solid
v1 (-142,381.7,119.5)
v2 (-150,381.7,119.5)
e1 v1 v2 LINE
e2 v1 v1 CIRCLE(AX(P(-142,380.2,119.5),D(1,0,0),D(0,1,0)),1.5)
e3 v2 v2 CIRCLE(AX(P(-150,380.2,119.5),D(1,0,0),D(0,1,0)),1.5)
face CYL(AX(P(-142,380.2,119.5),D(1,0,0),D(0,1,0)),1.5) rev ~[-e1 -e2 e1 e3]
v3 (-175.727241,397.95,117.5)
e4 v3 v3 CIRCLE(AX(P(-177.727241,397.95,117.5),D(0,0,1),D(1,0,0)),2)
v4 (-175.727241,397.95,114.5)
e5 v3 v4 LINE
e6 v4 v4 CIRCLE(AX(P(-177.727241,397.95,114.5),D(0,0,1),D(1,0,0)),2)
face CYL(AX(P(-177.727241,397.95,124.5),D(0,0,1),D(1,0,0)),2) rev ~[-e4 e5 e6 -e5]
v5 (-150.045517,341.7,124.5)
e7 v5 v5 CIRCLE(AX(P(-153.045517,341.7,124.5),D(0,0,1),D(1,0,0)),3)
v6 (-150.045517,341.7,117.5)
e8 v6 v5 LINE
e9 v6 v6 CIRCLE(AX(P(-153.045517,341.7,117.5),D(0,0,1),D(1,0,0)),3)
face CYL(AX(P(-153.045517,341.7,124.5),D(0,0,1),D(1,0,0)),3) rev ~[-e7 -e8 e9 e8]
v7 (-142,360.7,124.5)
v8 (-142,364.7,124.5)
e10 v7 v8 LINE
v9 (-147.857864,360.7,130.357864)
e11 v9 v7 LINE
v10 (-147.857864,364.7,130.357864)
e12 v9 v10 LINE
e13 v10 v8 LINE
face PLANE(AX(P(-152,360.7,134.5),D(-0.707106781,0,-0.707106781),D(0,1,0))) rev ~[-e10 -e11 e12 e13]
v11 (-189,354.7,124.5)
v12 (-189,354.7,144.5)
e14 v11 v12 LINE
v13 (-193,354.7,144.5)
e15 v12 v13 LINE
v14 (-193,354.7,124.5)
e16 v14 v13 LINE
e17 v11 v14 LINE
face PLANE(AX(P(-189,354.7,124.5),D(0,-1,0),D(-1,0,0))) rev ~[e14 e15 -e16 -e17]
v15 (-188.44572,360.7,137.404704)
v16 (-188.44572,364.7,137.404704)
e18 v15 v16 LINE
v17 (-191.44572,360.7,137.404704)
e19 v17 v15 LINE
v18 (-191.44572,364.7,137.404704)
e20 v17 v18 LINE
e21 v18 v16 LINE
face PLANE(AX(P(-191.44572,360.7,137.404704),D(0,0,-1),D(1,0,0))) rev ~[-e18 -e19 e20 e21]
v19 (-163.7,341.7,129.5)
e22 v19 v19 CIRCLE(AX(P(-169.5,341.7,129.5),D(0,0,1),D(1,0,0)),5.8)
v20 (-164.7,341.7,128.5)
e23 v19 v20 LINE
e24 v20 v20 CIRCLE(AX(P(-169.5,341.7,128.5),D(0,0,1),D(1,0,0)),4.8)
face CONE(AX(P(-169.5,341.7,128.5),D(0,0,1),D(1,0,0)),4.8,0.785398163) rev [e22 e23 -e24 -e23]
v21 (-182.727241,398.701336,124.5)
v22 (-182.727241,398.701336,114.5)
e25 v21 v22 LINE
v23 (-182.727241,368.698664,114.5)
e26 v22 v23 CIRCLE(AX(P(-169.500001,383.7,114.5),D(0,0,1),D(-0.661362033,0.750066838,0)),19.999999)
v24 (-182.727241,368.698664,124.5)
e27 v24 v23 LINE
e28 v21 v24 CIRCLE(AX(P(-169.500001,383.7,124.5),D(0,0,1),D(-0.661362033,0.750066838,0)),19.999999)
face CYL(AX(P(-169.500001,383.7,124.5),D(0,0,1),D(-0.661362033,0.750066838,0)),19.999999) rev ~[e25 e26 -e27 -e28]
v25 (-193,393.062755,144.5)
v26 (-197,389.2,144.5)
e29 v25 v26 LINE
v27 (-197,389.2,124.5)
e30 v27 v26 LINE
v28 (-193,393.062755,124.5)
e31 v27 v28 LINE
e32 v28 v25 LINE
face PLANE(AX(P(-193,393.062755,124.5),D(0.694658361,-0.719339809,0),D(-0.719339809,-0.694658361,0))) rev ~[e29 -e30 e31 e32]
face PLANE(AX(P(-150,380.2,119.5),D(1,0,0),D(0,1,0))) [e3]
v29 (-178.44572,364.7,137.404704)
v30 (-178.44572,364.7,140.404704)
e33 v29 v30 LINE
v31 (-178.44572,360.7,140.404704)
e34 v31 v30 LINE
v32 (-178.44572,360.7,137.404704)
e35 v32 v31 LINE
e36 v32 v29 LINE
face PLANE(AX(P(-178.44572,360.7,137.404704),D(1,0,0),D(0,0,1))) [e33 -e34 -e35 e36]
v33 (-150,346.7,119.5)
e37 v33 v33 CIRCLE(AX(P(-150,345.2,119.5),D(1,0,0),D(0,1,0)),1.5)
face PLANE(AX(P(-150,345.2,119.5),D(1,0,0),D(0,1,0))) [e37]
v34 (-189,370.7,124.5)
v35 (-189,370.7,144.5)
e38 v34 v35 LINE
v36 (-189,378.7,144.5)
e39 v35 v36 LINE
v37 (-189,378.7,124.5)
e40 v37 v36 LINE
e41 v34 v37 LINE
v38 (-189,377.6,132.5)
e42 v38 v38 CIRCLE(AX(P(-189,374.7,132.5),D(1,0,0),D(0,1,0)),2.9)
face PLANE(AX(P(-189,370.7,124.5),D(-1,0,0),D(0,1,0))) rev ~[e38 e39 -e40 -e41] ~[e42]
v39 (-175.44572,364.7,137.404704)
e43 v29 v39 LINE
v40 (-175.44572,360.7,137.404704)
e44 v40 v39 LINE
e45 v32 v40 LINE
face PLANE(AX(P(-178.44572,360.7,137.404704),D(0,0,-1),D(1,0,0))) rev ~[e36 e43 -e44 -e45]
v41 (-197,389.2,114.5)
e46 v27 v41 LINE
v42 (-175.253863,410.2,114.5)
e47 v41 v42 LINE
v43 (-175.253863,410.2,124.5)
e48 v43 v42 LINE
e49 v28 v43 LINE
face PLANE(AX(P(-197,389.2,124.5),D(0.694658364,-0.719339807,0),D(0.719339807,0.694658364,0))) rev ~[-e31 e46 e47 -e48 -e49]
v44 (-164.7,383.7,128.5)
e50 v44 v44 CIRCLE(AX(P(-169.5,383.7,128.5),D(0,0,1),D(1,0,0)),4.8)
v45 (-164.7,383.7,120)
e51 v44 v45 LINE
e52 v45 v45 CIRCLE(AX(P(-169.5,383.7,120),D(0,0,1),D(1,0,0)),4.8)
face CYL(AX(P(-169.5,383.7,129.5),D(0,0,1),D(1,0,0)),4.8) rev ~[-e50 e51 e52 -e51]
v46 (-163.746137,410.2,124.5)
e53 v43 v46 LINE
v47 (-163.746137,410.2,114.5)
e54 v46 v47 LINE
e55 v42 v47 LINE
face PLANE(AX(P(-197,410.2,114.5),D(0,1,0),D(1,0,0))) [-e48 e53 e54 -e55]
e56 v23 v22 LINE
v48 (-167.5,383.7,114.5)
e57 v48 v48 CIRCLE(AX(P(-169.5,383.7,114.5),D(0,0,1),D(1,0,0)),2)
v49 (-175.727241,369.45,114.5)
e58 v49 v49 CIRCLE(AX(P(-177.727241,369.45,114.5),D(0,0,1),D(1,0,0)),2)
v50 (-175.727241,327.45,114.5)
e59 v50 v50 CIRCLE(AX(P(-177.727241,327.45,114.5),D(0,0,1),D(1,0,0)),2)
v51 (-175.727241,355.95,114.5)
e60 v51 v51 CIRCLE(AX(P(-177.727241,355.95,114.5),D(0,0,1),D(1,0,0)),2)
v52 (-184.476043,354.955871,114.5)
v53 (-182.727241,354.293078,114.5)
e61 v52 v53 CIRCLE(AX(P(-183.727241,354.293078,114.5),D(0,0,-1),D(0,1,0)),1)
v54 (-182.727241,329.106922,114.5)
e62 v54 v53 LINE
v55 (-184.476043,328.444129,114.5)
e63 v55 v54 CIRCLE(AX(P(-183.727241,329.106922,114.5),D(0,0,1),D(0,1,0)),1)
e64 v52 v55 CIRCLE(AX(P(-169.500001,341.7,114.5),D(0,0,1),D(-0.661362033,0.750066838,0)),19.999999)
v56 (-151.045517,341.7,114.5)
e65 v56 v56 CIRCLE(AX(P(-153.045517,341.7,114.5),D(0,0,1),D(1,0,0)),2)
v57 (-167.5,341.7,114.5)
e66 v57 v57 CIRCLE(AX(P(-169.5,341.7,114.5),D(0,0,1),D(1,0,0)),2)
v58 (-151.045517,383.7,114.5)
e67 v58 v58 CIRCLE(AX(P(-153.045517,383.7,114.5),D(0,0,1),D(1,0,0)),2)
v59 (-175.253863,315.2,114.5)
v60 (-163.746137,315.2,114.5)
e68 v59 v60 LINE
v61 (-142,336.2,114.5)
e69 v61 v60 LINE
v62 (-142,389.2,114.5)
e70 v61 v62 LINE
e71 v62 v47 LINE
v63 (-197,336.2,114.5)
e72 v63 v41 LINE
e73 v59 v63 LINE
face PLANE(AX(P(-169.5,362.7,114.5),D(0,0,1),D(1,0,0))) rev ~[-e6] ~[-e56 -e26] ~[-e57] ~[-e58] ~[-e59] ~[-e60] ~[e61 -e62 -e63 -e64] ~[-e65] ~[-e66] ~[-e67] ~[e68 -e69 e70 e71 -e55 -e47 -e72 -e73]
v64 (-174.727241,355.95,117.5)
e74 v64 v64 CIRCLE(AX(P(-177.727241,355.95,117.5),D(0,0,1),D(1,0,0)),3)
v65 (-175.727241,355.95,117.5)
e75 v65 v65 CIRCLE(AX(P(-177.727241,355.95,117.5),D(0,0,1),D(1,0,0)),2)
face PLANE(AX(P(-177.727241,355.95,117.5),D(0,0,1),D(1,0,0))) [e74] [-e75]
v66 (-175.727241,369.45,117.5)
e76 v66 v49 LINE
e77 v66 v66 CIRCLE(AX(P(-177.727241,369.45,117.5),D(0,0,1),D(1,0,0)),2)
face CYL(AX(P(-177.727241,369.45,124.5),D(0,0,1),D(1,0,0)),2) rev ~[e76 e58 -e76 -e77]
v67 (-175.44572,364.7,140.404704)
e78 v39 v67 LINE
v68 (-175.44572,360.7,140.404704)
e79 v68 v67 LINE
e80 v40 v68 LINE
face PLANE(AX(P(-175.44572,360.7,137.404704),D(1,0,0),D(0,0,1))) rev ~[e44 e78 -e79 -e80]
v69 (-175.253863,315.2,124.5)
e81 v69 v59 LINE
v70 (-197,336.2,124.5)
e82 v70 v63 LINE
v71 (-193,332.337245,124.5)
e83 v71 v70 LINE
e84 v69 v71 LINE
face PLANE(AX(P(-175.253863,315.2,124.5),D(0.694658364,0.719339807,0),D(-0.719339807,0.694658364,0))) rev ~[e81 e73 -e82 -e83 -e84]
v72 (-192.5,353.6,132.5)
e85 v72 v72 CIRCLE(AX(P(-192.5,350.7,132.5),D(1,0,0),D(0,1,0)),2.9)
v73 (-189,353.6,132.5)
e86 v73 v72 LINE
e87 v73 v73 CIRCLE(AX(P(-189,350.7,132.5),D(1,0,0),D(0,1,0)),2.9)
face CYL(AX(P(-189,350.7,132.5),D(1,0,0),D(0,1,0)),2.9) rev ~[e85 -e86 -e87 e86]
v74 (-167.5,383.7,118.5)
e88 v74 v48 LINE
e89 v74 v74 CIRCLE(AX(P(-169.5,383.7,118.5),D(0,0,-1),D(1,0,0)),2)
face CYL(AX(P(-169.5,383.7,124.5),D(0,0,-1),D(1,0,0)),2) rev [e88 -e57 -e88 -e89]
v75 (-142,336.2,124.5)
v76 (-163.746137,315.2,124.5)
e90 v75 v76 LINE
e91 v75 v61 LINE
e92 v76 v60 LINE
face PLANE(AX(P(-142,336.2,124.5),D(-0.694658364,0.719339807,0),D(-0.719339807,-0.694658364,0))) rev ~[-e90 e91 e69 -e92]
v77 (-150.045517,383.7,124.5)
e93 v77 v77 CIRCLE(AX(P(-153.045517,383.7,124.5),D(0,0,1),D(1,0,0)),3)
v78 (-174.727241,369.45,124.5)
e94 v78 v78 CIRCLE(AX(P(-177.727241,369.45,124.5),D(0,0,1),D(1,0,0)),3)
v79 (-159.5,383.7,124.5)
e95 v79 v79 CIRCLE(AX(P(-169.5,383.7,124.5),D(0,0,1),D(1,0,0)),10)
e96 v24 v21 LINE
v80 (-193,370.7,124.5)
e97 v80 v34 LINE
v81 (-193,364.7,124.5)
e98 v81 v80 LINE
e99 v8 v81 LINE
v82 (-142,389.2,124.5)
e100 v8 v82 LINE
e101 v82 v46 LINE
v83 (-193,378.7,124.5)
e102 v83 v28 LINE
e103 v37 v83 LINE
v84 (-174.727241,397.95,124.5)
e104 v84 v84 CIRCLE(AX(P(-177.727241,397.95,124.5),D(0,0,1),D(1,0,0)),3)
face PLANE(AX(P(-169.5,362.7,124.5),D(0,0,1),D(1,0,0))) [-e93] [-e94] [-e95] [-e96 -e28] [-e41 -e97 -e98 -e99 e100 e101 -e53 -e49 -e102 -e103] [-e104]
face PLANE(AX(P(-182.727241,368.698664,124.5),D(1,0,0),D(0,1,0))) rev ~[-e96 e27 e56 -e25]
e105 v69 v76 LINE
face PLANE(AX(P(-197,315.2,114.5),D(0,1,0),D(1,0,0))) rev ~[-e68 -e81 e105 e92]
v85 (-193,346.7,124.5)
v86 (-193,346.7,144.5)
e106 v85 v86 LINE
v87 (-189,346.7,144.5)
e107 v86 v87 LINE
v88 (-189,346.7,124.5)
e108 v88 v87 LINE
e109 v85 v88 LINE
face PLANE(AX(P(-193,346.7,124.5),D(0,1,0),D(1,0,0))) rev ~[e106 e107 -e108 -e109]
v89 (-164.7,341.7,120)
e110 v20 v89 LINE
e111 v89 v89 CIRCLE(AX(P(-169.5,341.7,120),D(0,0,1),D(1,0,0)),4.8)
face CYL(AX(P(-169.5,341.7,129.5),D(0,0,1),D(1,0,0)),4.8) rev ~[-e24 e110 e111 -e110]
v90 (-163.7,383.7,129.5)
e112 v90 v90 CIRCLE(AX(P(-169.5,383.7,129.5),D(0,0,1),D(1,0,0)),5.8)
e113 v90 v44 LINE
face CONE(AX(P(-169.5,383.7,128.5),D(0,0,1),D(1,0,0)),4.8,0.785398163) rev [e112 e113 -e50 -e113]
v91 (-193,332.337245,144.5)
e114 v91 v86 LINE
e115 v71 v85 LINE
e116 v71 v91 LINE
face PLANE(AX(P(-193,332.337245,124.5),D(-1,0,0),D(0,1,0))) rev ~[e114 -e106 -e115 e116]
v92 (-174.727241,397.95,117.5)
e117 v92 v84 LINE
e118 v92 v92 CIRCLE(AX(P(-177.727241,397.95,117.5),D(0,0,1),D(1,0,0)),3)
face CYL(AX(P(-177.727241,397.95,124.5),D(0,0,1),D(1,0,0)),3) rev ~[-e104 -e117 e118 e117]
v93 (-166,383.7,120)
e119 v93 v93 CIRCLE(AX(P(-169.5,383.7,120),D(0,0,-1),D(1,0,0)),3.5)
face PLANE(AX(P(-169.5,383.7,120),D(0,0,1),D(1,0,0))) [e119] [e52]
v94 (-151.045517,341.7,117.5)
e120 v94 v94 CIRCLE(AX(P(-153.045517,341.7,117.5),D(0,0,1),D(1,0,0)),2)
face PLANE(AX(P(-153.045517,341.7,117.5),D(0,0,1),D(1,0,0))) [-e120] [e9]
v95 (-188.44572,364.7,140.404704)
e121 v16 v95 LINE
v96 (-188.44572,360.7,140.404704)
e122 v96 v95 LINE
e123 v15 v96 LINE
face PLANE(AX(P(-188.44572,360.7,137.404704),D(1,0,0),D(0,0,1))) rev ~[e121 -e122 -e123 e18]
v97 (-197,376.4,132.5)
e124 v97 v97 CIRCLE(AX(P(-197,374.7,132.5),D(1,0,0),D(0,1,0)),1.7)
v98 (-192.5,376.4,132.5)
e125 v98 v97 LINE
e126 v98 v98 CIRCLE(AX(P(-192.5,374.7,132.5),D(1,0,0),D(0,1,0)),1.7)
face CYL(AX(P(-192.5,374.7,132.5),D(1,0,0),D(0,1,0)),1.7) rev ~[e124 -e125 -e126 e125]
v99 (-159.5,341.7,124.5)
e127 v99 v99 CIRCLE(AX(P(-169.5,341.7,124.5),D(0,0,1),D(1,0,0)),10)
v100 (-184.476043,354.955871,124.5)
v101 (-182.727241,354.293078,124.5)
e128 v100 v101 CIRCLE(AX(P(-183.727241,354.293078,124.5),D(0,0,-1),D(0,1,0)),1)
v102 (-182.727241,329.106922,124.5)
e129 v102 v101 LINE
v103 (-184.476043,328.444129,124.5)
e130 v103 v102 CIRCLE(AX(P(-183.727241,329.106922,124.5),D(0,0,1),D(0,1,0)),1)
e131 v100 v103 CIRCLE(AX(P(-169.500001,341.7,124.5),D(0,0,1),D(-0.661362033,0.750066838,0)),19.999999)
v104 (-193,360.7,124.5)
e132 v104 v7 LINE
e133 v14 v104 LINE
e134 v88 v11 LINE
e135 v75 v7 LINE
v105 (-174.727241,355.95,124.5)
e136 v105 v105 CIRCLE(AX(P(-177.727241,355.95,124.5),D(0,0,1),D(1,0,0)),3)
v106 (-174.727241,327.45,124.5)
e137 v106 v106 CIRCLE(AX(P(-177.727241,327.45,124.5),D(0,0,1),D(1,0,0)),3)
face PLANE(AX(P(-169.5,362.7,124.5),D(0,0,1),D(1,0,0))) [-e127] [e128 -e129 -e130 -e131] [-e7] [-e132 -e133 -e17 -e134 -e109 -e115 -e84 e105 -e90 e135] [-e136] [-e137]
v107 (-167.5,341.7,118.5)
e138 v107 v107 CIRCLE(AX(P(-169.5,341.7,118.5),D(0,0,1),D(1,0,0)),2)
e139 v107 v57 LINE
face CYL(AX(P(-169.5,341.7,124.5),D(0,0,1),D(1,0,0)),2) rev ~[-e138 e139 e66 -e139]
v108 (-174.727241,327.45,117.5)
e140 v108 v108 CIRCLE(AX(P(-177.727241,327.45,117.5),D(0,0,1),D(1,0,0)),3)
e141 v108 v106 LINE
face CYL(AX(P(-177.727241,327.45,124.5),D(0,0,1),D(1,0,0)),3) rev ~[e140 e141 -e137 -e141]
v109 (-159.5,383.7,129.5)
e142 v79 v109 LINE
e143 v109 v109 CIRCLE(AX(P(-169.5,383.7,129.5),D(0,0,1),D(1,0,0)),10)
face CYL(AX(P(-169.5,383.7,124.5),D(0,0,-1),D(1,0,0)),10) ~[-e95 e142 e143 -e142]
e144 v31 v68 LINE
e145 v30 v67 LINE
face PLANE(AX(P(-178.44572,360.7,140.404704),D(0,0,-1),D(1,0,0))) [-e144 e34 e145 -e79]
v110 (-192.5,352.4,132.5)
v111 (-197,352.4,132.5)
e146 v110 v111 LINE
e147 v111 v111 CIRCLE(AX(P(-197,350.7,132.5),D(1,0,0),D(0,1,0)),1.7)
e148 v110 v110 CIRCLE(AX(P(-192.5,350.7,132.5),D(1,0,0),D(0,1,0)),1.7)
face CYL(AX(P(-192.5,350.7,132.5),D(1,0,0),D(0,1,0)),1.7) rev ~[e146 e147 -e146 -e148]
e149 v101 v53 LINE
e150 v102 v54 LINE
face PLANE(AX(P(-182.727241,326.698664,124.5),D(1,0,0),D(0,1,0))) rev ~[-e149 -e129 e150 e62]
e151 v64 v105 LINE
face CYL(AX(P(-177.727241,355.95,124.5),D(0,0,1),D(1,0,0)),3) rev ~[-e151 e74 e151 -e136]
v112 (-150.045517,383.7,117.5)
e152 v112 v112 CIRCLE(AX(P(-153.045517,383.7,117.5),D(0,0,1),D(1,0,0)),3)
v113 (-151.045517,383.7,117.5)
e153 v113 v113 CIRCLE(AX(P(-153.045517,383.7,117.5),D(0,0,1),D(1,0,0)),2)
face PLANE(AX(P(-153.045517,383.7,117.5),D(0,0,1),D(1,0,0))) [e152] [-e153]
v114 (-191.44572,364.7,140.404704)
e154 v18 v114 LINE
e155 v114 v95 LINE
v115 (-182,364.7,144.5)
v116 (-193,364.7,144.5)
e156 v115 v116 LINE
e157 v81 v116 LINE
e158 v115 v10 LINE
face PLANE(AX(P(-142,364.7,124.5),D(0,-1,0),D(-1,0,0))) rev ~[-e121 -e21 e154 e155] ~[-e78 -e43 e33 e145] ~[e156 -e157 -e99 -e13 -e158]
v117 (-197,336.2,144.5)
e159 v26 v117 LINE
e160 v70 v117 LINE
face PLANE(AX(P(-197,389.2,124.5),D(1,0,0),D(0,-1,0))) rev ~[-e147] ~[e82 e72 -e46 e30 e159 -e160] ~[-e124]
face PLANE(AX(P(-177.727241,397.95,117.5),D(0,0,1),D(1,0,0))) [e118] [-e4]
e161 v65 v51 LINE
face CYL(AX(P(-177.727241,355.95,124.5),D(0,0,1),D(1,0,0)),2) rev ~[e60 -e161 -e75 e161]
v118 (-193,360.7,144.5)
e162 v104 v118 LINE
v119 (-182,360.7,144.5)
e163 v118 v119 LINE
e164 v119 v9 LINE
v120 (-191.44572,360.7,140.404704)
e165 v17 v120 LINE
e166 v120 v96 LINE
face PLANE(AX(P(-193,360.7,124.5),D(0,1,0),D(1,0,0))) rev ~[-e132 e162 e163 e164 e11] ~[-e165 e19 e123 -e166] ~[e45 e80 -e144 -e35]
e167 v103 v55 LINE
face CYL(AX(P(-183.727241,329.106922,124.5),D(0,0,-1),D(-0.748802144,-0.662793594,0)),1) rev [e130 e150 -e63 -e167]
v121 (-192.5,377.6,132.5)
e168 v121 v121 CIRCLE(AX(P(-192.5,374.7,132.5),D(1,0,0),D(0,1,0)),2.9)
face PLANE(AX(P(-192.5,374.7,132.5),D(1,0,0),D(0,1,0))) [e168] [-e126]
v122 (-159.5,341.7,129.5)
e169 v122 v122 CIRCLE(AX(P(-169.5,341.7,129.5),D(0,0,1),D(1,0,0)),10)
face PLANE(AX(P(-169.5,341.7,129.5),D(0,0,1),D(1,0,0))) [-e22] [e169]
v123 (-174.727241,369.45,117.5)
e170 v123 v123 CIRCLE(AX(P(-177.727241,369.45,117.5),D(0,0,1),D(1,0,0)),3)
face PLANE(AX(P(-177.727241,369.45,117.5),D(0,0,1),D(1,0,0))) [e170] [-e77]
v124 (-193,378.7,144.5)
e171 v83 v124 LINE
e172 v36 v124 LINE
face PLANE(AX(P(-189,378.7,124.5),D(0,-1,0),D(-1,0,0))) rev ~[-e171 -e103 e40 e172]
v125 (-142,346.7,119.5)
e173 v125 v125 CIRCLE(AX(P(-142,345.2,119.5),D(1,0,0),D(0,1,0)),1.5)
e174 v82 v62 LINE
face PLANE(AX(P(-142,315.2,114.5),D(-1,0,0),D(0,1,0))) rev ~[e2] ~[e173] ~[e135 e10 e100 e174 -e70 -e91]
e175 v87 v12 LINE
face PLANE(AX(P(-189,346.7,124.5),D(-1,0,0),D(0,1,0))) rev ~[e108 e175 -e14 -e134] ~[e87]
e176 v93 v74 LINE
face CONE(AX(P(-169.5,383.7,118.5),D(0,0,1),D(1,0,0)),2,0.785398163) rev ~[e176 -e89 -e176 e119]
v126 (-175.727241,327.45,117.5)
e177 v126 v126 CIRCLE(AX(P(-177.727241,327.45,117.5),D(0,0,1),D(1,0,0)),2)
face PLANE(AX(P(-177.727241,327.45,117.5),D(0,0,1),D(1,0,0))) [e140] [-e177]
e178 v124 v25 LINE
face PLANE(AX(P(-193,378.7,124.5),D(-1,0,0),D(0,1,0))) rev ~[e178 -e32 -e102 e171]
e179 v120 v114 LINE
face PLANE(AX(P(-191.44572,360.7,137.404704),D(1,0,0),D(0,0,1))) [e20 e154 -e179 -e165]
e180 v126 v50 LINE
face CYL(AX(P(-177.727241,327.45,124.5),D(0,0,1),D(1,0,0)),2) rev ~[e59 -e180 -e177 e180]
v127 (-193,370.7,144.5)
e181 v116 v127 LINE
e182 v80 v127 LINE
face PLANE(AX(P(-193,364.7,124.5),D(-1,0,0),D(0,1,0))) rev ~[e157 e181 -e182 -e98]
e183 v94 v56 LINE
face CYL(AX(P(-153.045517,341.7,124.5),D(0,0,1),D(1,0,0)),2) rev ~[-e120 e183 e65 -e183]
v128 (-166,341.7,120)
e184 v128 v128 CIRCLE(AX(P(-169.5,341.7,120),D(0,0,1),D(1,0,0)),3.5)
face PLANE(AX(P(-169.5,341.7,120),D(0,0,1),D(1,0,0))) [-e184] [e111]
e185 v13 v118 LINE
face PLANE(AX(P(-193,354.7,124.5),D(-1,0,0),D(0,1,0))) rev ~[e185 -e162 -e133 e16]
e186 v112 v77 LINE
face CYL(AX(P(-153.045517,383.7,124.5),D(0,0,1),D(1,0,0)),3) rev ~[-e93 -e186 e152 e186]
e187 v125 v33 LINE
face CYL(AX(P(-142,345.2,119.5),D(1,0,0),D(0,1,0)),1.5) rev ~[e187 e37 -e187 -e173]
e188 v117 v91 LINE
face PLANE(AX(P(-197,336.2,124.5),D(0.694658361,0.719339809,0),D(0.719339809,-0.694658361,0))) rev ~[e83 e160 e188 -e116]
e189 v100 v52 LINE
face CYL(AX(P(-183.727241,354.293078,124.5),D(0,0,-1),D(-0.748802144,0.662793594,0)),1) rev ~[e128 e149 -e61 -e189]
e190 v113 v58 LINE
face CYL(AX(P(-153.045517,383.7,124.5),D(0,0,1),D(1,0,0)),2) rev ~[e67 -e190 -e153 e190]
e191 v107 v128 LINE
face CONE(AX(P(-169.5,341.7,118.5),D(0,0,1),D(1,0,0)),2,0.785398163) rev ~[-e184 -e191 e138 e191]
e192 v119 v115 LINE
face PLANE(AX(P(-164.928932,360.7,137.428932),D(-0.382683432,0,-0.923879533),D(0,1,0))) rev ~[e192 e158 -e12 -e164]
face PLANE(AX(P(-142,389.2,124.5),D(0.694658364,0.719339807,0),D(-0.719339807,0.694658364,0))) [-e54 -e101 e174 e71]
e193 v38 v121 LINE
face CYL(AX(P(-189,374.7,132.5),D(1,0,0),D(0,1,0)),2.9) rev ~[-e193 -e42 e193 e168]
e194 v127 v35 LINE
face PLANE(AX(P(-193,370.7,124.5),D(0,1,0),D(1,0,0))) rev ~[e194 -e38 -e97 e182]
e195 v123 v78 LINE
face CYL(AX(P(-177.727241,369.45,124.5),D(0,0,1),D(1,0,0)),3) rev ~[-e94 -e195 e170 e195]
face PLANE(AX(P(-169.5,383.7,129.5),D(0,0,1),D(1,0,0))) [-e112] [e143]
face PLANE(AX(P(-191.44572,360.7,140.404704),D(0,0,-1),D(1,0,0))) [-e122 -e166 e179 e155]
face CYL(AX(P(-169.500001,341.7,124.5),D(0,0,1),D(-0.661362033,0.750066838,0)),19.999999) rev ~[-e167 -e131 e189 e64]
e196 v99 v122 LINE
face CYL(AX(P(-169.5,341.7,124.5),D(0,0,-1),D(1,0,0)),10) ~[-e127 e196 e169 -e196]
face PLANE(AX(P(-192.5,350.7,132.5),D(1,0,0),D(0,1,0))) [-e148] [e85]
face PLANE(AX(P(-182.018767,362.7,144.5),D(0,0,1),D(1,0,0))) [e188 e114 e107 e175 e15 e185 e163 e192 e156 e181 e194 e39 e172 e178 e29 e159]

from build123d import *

# Parameters (mm, degrees)
BOX_W           = 55
BOX_H           = 95
BOX_DEPTH       = 10
SKETCH_R        = 2
POCKET_DEPTH    = 10
SKETCH001_R     = 2
POCKET001_DEPTH = 10
FILLET_R        = 1
PAD_DEPTH       = 20
CHAMFER_SIZE    = 20
CHAMFER001_SIZE = 20
SKETCH003_R     = 3
POCKET005_DEPTH = 6
SKETCH004_R     = 10
SKETCH004_R_2   = 2
PAD001_DEPTH    = 5
SKETCH005_W     = 3
SKETCH005_H     = 3
POCKET006_DEPTH = 5
SKETCH006_R     = 2.9
POCKET007_DEPTH = 3.5
SKETCH007_R     = 1.7
POCKET008_DEPTH = 5
SKETCH009_R     = 4.8
POCKET009_DEPTH = 9.5
CHAMFER002_SIZE = 1
CHAMFER003_SIZE = 1.5
SKETCH010_R     = 1.5
POCKET010_DEPTH = 8
SKETCH011_R     = 3
POCKET011_DEPTH = 1


with BuildPart() as part:
    # Box → Box (new body)
    with BuildSketch(Plane(origin=(-197, 315.2, 114.5), x_dir=(1, 0, 0), z_dir=(0, 0, 1))):
        with Locations((27.5, 47.5)):
            Rectangle(BOX_W, BOX_H)
    extrude(amount=BOX_DEPTH)

    # Sketch → Pocket (cut)
    with BuildSketch(Plane(origin=(-197, 315.2, 124.5), x_dir=(1, 0, 0), z_dir=(0, 0, 1))):
        with Locations((27.5, 26.5)):
            Circle(SKETCH_R)
        with Locations((27.5, 68.5)):
            Circle(SKETCH_R)
        Polygon((0, 74), (21.746137, 95), (0, 95), align=None)
        Polygon((33.253863, 95), (55, 95), (55, 74), align=None)
        Polygon((55, 21), (33.253863, 0), (55, 0), align=None)
        Polygon((0, 21), (0, 0), (21.746137, 0), align=None)
    extrude(amount=-POCKET_DEPTH, mode=Mode.SUBTRACT)

    # Sketch001 → Pocket001 (cut)
    with BuildSketch(Plane(origin=(-197, 315.2, 124.5), x_dir=(1, 0, 0), z_dir=(0, 0, 1))):
        with Locations((19.272759, 12.25)):
            Circle(SKETCH001_R)
        with Locations((19.272759, 40.75)):
            Circle(SKETCH001_R)
        with Locations((43.954483, 26.5)):
            Circle(SKETCH001_R)
        with Locations((19.272759, 54.25)):
            Circle(SKETCH001_R)
        with Locations((19.272759, 82.75)):
            Circle(SKETCH001_R)
        with Locations((43.954483, 68.5)):
            Circle(SKETCH001_R)
        with BuildLine():
            ThreePointArc((14.272759, 41.501336), (7.5, 26.5), (14.272759, 11.498664))
            Line((14.272759, 11.498664), (14.272759, 41.501336))
        make_face()
        with BuildLine():
            ThreePointArc((14.272759, 83.501336), (7.5, 68.5), (14.272759, 53.498664))
            Line((14.272759, 53.498664), (14.272759, 83.501336))
        make_face()
    extrude(amount=-POCKET001_DEPTH, mode=Mode.SUBTRACT)

    # Fillet
    fillet_edges = [part.edges().sort_by_distance(p)[0] for p in [
        (-182.727241, 326.698664, 119.5),
        (-175.727241, 355.95, 119.5),
        (-175.727241, 397.95, 119.5),
        (-182.727241, 356.701336, 119.5),
    ]]
    fillet(fillet_edges, radius=FILLET_R)

    # Sketch002 → Pad (new body)
    with BuildSketch(Plane(origin=(-197, 315.2, 124.5), x_dir=(1, 0, 0), z_dir=(0, 0, 1))):
        Polygon((4, 17.137245), (4, 31.5), (8, 31.5), (8, 39.5), (4, 39.5), (4, 45.5), (55, 45.5), (55, 49.5), (4, 49.5), (4, 55.5), (8, 55.5), (8, 63.5), (4, 63.5), (4, 77.862755), (0, 74), (0, 21), align=None)
    extrude(amount=PAD_DEPTH)

    # Chamfer
    chamfer_edges = [part.edges().sort_by_distance(p)[0] for p in [
        (-142, 362.7, 144.5),
    ]]
    chamfer(chamfer_edges, length=CHAMFER_SIZE)

    # Chamfer001
    chamfer001_edges = [part.edges().sort_by_distance(p)[0] for p in [
        (-162, 362.7, 144.5),
    ]]
    chamfer(chamfer001_edges, length=CHAMFER001_SIZE)

    # Sketch003 → Pocket005 (cut)
    with BuildSketch(Plane(origin=(-197, 315.2, 124.5), x_dir=(1, 0, 0), z_dir=(0, 0, 1))):
        with Locations((19.272759, 40.75)):
            Circle(SKETCH003_R)
        with Locations((19.272759, 12.25)):
            Circle(SKETCH003_R)
        with Locations((43.954483, 26.5)):
            Circle(SKETCH003_R)
        with Locations((19.272759, 54.25)):
            Circle(SKETCH003_R)
        with Locations((19.272759, 82.75)):
            Circle(SKETCH003_R)
        with Locations((43.954483, 68.5)):
            Circle(SKETCH003_R)
    extrude(amount=-POCKET005_DEPTH, mode=Mode.SUBTRACT)

    # Sketch004 → Pad001 (new body)
    with BuildSketch(Plane(origin=(-197, 315.2, 124.5), x_dir=(1, 0, 0), z_dir=(0, 0, 1))):
        with Locations((27.5, 68.5)):
            Circle(SKETCH004_R)
        with Locations((27.5, 68.5)):
            Circle(SKETCH004_R_2, mode=Mode.SUBTRACT)
        with Locations((27.5, 26.5)):
            Circle(SKETCH004_R)
        with Locations((27.5, 26.5)):
            Circle(SKETCH004_R_2, mode=Mode.SUBTRACT)
    extrude(amount=PAD001_DEPTH)

    # Sketch005 → Pocket006 (cut)
    with BuildSketch(Plane(origin=(-197, 360.7, 114.5), x_dir=(1, 0, 0), z_dir=(0, -1, 0))):
        with Locations((7.05428, 24.404704)):
            Rectangle(SKETCH005_W, SKETCH005_H)
        with Locations((20.05428, 24.404704)):
            Rectangle(SKETCH005_W, SKETCH005_H)
    extrude(amount=-POCKET006_DEPTH, mode=Mode.SUBTRACT)

    # Sketch006 → Pocket007 (cut)
    with BuildSketch(Plane(origin=(-189, 315.2, 114.5), x_dir=(0, 1, 0), z_dir=(1, 0, 0))):
        with Locations((35.5, 18)):
            Circle(SKETCH006_R)
        with Locations((59.5, 18)):
            Circle(SKETCH006_R)
    extrude(amount=-POCKET007_DEPTH, mode=Mode.SUBTRACT)

    # Sketch007 → Pocket008 (cut)
    with BuildSketch(Plane(origin=(-192.5, 315.2, 114.5), x_dir=(0, 1, 0), z_dir=(1, 0, 0))):
        with Locations((35.5, 18)):
            Circle(SKETCH007_R)
        with Locations((59.5, 18)):
            Circle(SKETCH007_R)
    extrude(amount=-POCKET008_DEPTH, mode=Mode.SUBTRACT)

    # Sketch009 → Pocket009 (cut)
    with BuildSketch(Plane(origin=(-197, 315.2, 129.5), x_dir=(1, 0, 0), z_dir=(0, 0, 1))):
        with Locations((27.5, 26.5)):
            Circle(SKETCH009_R)
        with Locations((27.5, 68.5)):
            Circle(SKETCH009_R)
    extrude(amount=-POCKET009_DEPTH, mode=Mode.SUBTRACT)

    # Chamfer002
    chamfer002_edges = [part.edges().sort_by_distance(p)[0] for p in [
        (-174.3, 383.7, 129.5),
        (-174.3, 341.7, 129.5),
    ]]
    chamfer(chamfer002_edges, length=CHAMFER002_SIZE)

    # Chamfer003
    chamfer003_edges = [part.edges().sort_by_distance(p)[0] for p in [
        (-171.5, 341.7, 120),
        (-171.5, 383.7, 120),
    ]]
    chamfer(chamfer003_edges, length=CHAMFER003_SIZE)

    # Sketch010 → Pocket010 (cut)
    with BuildSketch(Plane(origin=(-142, 315.2, 114.5), x_dir=(0, 1, 0), z_dir=(1, 0, 0))):
        with Locations((30, 5)):
            Circle(SKETCH010_R)
        with Locations((65, 5)):
            Circle(SKETCH010_R)
    extrude(amount=-POCKET010_DEPTH, mode=Mode.SUBTRACT)

    # Sketch011 → Pocket011 (cut)
    with BuildSketch(Plane(origin=(-197, 315.2, 118.5), x_dir=(1, 0, 0), z_dir=(0, 0, 1))):
        with Locations((19.272759, 82.75)):
            Circle(SKETCH011_R)
        with Locations((43.954483, 68.5)):
            Circle(SKETCH011_R)
        with Locations((19.272759, 54.25)):
            Circle(SKETCH011_R)
        with Locations((19.272759, 40.75)):
            Circle(SKETCH011_R)
        with Locations((43.954483, 26.5)):
            Circle(SKETCH011_R)
        with Locations((19.272759, 12.25)):
            Circle(SKETCH011_R)
    extrude(amount=-POCKET011_DEPTH, mode=Mode.SUBTRACT)


solid = part.part
